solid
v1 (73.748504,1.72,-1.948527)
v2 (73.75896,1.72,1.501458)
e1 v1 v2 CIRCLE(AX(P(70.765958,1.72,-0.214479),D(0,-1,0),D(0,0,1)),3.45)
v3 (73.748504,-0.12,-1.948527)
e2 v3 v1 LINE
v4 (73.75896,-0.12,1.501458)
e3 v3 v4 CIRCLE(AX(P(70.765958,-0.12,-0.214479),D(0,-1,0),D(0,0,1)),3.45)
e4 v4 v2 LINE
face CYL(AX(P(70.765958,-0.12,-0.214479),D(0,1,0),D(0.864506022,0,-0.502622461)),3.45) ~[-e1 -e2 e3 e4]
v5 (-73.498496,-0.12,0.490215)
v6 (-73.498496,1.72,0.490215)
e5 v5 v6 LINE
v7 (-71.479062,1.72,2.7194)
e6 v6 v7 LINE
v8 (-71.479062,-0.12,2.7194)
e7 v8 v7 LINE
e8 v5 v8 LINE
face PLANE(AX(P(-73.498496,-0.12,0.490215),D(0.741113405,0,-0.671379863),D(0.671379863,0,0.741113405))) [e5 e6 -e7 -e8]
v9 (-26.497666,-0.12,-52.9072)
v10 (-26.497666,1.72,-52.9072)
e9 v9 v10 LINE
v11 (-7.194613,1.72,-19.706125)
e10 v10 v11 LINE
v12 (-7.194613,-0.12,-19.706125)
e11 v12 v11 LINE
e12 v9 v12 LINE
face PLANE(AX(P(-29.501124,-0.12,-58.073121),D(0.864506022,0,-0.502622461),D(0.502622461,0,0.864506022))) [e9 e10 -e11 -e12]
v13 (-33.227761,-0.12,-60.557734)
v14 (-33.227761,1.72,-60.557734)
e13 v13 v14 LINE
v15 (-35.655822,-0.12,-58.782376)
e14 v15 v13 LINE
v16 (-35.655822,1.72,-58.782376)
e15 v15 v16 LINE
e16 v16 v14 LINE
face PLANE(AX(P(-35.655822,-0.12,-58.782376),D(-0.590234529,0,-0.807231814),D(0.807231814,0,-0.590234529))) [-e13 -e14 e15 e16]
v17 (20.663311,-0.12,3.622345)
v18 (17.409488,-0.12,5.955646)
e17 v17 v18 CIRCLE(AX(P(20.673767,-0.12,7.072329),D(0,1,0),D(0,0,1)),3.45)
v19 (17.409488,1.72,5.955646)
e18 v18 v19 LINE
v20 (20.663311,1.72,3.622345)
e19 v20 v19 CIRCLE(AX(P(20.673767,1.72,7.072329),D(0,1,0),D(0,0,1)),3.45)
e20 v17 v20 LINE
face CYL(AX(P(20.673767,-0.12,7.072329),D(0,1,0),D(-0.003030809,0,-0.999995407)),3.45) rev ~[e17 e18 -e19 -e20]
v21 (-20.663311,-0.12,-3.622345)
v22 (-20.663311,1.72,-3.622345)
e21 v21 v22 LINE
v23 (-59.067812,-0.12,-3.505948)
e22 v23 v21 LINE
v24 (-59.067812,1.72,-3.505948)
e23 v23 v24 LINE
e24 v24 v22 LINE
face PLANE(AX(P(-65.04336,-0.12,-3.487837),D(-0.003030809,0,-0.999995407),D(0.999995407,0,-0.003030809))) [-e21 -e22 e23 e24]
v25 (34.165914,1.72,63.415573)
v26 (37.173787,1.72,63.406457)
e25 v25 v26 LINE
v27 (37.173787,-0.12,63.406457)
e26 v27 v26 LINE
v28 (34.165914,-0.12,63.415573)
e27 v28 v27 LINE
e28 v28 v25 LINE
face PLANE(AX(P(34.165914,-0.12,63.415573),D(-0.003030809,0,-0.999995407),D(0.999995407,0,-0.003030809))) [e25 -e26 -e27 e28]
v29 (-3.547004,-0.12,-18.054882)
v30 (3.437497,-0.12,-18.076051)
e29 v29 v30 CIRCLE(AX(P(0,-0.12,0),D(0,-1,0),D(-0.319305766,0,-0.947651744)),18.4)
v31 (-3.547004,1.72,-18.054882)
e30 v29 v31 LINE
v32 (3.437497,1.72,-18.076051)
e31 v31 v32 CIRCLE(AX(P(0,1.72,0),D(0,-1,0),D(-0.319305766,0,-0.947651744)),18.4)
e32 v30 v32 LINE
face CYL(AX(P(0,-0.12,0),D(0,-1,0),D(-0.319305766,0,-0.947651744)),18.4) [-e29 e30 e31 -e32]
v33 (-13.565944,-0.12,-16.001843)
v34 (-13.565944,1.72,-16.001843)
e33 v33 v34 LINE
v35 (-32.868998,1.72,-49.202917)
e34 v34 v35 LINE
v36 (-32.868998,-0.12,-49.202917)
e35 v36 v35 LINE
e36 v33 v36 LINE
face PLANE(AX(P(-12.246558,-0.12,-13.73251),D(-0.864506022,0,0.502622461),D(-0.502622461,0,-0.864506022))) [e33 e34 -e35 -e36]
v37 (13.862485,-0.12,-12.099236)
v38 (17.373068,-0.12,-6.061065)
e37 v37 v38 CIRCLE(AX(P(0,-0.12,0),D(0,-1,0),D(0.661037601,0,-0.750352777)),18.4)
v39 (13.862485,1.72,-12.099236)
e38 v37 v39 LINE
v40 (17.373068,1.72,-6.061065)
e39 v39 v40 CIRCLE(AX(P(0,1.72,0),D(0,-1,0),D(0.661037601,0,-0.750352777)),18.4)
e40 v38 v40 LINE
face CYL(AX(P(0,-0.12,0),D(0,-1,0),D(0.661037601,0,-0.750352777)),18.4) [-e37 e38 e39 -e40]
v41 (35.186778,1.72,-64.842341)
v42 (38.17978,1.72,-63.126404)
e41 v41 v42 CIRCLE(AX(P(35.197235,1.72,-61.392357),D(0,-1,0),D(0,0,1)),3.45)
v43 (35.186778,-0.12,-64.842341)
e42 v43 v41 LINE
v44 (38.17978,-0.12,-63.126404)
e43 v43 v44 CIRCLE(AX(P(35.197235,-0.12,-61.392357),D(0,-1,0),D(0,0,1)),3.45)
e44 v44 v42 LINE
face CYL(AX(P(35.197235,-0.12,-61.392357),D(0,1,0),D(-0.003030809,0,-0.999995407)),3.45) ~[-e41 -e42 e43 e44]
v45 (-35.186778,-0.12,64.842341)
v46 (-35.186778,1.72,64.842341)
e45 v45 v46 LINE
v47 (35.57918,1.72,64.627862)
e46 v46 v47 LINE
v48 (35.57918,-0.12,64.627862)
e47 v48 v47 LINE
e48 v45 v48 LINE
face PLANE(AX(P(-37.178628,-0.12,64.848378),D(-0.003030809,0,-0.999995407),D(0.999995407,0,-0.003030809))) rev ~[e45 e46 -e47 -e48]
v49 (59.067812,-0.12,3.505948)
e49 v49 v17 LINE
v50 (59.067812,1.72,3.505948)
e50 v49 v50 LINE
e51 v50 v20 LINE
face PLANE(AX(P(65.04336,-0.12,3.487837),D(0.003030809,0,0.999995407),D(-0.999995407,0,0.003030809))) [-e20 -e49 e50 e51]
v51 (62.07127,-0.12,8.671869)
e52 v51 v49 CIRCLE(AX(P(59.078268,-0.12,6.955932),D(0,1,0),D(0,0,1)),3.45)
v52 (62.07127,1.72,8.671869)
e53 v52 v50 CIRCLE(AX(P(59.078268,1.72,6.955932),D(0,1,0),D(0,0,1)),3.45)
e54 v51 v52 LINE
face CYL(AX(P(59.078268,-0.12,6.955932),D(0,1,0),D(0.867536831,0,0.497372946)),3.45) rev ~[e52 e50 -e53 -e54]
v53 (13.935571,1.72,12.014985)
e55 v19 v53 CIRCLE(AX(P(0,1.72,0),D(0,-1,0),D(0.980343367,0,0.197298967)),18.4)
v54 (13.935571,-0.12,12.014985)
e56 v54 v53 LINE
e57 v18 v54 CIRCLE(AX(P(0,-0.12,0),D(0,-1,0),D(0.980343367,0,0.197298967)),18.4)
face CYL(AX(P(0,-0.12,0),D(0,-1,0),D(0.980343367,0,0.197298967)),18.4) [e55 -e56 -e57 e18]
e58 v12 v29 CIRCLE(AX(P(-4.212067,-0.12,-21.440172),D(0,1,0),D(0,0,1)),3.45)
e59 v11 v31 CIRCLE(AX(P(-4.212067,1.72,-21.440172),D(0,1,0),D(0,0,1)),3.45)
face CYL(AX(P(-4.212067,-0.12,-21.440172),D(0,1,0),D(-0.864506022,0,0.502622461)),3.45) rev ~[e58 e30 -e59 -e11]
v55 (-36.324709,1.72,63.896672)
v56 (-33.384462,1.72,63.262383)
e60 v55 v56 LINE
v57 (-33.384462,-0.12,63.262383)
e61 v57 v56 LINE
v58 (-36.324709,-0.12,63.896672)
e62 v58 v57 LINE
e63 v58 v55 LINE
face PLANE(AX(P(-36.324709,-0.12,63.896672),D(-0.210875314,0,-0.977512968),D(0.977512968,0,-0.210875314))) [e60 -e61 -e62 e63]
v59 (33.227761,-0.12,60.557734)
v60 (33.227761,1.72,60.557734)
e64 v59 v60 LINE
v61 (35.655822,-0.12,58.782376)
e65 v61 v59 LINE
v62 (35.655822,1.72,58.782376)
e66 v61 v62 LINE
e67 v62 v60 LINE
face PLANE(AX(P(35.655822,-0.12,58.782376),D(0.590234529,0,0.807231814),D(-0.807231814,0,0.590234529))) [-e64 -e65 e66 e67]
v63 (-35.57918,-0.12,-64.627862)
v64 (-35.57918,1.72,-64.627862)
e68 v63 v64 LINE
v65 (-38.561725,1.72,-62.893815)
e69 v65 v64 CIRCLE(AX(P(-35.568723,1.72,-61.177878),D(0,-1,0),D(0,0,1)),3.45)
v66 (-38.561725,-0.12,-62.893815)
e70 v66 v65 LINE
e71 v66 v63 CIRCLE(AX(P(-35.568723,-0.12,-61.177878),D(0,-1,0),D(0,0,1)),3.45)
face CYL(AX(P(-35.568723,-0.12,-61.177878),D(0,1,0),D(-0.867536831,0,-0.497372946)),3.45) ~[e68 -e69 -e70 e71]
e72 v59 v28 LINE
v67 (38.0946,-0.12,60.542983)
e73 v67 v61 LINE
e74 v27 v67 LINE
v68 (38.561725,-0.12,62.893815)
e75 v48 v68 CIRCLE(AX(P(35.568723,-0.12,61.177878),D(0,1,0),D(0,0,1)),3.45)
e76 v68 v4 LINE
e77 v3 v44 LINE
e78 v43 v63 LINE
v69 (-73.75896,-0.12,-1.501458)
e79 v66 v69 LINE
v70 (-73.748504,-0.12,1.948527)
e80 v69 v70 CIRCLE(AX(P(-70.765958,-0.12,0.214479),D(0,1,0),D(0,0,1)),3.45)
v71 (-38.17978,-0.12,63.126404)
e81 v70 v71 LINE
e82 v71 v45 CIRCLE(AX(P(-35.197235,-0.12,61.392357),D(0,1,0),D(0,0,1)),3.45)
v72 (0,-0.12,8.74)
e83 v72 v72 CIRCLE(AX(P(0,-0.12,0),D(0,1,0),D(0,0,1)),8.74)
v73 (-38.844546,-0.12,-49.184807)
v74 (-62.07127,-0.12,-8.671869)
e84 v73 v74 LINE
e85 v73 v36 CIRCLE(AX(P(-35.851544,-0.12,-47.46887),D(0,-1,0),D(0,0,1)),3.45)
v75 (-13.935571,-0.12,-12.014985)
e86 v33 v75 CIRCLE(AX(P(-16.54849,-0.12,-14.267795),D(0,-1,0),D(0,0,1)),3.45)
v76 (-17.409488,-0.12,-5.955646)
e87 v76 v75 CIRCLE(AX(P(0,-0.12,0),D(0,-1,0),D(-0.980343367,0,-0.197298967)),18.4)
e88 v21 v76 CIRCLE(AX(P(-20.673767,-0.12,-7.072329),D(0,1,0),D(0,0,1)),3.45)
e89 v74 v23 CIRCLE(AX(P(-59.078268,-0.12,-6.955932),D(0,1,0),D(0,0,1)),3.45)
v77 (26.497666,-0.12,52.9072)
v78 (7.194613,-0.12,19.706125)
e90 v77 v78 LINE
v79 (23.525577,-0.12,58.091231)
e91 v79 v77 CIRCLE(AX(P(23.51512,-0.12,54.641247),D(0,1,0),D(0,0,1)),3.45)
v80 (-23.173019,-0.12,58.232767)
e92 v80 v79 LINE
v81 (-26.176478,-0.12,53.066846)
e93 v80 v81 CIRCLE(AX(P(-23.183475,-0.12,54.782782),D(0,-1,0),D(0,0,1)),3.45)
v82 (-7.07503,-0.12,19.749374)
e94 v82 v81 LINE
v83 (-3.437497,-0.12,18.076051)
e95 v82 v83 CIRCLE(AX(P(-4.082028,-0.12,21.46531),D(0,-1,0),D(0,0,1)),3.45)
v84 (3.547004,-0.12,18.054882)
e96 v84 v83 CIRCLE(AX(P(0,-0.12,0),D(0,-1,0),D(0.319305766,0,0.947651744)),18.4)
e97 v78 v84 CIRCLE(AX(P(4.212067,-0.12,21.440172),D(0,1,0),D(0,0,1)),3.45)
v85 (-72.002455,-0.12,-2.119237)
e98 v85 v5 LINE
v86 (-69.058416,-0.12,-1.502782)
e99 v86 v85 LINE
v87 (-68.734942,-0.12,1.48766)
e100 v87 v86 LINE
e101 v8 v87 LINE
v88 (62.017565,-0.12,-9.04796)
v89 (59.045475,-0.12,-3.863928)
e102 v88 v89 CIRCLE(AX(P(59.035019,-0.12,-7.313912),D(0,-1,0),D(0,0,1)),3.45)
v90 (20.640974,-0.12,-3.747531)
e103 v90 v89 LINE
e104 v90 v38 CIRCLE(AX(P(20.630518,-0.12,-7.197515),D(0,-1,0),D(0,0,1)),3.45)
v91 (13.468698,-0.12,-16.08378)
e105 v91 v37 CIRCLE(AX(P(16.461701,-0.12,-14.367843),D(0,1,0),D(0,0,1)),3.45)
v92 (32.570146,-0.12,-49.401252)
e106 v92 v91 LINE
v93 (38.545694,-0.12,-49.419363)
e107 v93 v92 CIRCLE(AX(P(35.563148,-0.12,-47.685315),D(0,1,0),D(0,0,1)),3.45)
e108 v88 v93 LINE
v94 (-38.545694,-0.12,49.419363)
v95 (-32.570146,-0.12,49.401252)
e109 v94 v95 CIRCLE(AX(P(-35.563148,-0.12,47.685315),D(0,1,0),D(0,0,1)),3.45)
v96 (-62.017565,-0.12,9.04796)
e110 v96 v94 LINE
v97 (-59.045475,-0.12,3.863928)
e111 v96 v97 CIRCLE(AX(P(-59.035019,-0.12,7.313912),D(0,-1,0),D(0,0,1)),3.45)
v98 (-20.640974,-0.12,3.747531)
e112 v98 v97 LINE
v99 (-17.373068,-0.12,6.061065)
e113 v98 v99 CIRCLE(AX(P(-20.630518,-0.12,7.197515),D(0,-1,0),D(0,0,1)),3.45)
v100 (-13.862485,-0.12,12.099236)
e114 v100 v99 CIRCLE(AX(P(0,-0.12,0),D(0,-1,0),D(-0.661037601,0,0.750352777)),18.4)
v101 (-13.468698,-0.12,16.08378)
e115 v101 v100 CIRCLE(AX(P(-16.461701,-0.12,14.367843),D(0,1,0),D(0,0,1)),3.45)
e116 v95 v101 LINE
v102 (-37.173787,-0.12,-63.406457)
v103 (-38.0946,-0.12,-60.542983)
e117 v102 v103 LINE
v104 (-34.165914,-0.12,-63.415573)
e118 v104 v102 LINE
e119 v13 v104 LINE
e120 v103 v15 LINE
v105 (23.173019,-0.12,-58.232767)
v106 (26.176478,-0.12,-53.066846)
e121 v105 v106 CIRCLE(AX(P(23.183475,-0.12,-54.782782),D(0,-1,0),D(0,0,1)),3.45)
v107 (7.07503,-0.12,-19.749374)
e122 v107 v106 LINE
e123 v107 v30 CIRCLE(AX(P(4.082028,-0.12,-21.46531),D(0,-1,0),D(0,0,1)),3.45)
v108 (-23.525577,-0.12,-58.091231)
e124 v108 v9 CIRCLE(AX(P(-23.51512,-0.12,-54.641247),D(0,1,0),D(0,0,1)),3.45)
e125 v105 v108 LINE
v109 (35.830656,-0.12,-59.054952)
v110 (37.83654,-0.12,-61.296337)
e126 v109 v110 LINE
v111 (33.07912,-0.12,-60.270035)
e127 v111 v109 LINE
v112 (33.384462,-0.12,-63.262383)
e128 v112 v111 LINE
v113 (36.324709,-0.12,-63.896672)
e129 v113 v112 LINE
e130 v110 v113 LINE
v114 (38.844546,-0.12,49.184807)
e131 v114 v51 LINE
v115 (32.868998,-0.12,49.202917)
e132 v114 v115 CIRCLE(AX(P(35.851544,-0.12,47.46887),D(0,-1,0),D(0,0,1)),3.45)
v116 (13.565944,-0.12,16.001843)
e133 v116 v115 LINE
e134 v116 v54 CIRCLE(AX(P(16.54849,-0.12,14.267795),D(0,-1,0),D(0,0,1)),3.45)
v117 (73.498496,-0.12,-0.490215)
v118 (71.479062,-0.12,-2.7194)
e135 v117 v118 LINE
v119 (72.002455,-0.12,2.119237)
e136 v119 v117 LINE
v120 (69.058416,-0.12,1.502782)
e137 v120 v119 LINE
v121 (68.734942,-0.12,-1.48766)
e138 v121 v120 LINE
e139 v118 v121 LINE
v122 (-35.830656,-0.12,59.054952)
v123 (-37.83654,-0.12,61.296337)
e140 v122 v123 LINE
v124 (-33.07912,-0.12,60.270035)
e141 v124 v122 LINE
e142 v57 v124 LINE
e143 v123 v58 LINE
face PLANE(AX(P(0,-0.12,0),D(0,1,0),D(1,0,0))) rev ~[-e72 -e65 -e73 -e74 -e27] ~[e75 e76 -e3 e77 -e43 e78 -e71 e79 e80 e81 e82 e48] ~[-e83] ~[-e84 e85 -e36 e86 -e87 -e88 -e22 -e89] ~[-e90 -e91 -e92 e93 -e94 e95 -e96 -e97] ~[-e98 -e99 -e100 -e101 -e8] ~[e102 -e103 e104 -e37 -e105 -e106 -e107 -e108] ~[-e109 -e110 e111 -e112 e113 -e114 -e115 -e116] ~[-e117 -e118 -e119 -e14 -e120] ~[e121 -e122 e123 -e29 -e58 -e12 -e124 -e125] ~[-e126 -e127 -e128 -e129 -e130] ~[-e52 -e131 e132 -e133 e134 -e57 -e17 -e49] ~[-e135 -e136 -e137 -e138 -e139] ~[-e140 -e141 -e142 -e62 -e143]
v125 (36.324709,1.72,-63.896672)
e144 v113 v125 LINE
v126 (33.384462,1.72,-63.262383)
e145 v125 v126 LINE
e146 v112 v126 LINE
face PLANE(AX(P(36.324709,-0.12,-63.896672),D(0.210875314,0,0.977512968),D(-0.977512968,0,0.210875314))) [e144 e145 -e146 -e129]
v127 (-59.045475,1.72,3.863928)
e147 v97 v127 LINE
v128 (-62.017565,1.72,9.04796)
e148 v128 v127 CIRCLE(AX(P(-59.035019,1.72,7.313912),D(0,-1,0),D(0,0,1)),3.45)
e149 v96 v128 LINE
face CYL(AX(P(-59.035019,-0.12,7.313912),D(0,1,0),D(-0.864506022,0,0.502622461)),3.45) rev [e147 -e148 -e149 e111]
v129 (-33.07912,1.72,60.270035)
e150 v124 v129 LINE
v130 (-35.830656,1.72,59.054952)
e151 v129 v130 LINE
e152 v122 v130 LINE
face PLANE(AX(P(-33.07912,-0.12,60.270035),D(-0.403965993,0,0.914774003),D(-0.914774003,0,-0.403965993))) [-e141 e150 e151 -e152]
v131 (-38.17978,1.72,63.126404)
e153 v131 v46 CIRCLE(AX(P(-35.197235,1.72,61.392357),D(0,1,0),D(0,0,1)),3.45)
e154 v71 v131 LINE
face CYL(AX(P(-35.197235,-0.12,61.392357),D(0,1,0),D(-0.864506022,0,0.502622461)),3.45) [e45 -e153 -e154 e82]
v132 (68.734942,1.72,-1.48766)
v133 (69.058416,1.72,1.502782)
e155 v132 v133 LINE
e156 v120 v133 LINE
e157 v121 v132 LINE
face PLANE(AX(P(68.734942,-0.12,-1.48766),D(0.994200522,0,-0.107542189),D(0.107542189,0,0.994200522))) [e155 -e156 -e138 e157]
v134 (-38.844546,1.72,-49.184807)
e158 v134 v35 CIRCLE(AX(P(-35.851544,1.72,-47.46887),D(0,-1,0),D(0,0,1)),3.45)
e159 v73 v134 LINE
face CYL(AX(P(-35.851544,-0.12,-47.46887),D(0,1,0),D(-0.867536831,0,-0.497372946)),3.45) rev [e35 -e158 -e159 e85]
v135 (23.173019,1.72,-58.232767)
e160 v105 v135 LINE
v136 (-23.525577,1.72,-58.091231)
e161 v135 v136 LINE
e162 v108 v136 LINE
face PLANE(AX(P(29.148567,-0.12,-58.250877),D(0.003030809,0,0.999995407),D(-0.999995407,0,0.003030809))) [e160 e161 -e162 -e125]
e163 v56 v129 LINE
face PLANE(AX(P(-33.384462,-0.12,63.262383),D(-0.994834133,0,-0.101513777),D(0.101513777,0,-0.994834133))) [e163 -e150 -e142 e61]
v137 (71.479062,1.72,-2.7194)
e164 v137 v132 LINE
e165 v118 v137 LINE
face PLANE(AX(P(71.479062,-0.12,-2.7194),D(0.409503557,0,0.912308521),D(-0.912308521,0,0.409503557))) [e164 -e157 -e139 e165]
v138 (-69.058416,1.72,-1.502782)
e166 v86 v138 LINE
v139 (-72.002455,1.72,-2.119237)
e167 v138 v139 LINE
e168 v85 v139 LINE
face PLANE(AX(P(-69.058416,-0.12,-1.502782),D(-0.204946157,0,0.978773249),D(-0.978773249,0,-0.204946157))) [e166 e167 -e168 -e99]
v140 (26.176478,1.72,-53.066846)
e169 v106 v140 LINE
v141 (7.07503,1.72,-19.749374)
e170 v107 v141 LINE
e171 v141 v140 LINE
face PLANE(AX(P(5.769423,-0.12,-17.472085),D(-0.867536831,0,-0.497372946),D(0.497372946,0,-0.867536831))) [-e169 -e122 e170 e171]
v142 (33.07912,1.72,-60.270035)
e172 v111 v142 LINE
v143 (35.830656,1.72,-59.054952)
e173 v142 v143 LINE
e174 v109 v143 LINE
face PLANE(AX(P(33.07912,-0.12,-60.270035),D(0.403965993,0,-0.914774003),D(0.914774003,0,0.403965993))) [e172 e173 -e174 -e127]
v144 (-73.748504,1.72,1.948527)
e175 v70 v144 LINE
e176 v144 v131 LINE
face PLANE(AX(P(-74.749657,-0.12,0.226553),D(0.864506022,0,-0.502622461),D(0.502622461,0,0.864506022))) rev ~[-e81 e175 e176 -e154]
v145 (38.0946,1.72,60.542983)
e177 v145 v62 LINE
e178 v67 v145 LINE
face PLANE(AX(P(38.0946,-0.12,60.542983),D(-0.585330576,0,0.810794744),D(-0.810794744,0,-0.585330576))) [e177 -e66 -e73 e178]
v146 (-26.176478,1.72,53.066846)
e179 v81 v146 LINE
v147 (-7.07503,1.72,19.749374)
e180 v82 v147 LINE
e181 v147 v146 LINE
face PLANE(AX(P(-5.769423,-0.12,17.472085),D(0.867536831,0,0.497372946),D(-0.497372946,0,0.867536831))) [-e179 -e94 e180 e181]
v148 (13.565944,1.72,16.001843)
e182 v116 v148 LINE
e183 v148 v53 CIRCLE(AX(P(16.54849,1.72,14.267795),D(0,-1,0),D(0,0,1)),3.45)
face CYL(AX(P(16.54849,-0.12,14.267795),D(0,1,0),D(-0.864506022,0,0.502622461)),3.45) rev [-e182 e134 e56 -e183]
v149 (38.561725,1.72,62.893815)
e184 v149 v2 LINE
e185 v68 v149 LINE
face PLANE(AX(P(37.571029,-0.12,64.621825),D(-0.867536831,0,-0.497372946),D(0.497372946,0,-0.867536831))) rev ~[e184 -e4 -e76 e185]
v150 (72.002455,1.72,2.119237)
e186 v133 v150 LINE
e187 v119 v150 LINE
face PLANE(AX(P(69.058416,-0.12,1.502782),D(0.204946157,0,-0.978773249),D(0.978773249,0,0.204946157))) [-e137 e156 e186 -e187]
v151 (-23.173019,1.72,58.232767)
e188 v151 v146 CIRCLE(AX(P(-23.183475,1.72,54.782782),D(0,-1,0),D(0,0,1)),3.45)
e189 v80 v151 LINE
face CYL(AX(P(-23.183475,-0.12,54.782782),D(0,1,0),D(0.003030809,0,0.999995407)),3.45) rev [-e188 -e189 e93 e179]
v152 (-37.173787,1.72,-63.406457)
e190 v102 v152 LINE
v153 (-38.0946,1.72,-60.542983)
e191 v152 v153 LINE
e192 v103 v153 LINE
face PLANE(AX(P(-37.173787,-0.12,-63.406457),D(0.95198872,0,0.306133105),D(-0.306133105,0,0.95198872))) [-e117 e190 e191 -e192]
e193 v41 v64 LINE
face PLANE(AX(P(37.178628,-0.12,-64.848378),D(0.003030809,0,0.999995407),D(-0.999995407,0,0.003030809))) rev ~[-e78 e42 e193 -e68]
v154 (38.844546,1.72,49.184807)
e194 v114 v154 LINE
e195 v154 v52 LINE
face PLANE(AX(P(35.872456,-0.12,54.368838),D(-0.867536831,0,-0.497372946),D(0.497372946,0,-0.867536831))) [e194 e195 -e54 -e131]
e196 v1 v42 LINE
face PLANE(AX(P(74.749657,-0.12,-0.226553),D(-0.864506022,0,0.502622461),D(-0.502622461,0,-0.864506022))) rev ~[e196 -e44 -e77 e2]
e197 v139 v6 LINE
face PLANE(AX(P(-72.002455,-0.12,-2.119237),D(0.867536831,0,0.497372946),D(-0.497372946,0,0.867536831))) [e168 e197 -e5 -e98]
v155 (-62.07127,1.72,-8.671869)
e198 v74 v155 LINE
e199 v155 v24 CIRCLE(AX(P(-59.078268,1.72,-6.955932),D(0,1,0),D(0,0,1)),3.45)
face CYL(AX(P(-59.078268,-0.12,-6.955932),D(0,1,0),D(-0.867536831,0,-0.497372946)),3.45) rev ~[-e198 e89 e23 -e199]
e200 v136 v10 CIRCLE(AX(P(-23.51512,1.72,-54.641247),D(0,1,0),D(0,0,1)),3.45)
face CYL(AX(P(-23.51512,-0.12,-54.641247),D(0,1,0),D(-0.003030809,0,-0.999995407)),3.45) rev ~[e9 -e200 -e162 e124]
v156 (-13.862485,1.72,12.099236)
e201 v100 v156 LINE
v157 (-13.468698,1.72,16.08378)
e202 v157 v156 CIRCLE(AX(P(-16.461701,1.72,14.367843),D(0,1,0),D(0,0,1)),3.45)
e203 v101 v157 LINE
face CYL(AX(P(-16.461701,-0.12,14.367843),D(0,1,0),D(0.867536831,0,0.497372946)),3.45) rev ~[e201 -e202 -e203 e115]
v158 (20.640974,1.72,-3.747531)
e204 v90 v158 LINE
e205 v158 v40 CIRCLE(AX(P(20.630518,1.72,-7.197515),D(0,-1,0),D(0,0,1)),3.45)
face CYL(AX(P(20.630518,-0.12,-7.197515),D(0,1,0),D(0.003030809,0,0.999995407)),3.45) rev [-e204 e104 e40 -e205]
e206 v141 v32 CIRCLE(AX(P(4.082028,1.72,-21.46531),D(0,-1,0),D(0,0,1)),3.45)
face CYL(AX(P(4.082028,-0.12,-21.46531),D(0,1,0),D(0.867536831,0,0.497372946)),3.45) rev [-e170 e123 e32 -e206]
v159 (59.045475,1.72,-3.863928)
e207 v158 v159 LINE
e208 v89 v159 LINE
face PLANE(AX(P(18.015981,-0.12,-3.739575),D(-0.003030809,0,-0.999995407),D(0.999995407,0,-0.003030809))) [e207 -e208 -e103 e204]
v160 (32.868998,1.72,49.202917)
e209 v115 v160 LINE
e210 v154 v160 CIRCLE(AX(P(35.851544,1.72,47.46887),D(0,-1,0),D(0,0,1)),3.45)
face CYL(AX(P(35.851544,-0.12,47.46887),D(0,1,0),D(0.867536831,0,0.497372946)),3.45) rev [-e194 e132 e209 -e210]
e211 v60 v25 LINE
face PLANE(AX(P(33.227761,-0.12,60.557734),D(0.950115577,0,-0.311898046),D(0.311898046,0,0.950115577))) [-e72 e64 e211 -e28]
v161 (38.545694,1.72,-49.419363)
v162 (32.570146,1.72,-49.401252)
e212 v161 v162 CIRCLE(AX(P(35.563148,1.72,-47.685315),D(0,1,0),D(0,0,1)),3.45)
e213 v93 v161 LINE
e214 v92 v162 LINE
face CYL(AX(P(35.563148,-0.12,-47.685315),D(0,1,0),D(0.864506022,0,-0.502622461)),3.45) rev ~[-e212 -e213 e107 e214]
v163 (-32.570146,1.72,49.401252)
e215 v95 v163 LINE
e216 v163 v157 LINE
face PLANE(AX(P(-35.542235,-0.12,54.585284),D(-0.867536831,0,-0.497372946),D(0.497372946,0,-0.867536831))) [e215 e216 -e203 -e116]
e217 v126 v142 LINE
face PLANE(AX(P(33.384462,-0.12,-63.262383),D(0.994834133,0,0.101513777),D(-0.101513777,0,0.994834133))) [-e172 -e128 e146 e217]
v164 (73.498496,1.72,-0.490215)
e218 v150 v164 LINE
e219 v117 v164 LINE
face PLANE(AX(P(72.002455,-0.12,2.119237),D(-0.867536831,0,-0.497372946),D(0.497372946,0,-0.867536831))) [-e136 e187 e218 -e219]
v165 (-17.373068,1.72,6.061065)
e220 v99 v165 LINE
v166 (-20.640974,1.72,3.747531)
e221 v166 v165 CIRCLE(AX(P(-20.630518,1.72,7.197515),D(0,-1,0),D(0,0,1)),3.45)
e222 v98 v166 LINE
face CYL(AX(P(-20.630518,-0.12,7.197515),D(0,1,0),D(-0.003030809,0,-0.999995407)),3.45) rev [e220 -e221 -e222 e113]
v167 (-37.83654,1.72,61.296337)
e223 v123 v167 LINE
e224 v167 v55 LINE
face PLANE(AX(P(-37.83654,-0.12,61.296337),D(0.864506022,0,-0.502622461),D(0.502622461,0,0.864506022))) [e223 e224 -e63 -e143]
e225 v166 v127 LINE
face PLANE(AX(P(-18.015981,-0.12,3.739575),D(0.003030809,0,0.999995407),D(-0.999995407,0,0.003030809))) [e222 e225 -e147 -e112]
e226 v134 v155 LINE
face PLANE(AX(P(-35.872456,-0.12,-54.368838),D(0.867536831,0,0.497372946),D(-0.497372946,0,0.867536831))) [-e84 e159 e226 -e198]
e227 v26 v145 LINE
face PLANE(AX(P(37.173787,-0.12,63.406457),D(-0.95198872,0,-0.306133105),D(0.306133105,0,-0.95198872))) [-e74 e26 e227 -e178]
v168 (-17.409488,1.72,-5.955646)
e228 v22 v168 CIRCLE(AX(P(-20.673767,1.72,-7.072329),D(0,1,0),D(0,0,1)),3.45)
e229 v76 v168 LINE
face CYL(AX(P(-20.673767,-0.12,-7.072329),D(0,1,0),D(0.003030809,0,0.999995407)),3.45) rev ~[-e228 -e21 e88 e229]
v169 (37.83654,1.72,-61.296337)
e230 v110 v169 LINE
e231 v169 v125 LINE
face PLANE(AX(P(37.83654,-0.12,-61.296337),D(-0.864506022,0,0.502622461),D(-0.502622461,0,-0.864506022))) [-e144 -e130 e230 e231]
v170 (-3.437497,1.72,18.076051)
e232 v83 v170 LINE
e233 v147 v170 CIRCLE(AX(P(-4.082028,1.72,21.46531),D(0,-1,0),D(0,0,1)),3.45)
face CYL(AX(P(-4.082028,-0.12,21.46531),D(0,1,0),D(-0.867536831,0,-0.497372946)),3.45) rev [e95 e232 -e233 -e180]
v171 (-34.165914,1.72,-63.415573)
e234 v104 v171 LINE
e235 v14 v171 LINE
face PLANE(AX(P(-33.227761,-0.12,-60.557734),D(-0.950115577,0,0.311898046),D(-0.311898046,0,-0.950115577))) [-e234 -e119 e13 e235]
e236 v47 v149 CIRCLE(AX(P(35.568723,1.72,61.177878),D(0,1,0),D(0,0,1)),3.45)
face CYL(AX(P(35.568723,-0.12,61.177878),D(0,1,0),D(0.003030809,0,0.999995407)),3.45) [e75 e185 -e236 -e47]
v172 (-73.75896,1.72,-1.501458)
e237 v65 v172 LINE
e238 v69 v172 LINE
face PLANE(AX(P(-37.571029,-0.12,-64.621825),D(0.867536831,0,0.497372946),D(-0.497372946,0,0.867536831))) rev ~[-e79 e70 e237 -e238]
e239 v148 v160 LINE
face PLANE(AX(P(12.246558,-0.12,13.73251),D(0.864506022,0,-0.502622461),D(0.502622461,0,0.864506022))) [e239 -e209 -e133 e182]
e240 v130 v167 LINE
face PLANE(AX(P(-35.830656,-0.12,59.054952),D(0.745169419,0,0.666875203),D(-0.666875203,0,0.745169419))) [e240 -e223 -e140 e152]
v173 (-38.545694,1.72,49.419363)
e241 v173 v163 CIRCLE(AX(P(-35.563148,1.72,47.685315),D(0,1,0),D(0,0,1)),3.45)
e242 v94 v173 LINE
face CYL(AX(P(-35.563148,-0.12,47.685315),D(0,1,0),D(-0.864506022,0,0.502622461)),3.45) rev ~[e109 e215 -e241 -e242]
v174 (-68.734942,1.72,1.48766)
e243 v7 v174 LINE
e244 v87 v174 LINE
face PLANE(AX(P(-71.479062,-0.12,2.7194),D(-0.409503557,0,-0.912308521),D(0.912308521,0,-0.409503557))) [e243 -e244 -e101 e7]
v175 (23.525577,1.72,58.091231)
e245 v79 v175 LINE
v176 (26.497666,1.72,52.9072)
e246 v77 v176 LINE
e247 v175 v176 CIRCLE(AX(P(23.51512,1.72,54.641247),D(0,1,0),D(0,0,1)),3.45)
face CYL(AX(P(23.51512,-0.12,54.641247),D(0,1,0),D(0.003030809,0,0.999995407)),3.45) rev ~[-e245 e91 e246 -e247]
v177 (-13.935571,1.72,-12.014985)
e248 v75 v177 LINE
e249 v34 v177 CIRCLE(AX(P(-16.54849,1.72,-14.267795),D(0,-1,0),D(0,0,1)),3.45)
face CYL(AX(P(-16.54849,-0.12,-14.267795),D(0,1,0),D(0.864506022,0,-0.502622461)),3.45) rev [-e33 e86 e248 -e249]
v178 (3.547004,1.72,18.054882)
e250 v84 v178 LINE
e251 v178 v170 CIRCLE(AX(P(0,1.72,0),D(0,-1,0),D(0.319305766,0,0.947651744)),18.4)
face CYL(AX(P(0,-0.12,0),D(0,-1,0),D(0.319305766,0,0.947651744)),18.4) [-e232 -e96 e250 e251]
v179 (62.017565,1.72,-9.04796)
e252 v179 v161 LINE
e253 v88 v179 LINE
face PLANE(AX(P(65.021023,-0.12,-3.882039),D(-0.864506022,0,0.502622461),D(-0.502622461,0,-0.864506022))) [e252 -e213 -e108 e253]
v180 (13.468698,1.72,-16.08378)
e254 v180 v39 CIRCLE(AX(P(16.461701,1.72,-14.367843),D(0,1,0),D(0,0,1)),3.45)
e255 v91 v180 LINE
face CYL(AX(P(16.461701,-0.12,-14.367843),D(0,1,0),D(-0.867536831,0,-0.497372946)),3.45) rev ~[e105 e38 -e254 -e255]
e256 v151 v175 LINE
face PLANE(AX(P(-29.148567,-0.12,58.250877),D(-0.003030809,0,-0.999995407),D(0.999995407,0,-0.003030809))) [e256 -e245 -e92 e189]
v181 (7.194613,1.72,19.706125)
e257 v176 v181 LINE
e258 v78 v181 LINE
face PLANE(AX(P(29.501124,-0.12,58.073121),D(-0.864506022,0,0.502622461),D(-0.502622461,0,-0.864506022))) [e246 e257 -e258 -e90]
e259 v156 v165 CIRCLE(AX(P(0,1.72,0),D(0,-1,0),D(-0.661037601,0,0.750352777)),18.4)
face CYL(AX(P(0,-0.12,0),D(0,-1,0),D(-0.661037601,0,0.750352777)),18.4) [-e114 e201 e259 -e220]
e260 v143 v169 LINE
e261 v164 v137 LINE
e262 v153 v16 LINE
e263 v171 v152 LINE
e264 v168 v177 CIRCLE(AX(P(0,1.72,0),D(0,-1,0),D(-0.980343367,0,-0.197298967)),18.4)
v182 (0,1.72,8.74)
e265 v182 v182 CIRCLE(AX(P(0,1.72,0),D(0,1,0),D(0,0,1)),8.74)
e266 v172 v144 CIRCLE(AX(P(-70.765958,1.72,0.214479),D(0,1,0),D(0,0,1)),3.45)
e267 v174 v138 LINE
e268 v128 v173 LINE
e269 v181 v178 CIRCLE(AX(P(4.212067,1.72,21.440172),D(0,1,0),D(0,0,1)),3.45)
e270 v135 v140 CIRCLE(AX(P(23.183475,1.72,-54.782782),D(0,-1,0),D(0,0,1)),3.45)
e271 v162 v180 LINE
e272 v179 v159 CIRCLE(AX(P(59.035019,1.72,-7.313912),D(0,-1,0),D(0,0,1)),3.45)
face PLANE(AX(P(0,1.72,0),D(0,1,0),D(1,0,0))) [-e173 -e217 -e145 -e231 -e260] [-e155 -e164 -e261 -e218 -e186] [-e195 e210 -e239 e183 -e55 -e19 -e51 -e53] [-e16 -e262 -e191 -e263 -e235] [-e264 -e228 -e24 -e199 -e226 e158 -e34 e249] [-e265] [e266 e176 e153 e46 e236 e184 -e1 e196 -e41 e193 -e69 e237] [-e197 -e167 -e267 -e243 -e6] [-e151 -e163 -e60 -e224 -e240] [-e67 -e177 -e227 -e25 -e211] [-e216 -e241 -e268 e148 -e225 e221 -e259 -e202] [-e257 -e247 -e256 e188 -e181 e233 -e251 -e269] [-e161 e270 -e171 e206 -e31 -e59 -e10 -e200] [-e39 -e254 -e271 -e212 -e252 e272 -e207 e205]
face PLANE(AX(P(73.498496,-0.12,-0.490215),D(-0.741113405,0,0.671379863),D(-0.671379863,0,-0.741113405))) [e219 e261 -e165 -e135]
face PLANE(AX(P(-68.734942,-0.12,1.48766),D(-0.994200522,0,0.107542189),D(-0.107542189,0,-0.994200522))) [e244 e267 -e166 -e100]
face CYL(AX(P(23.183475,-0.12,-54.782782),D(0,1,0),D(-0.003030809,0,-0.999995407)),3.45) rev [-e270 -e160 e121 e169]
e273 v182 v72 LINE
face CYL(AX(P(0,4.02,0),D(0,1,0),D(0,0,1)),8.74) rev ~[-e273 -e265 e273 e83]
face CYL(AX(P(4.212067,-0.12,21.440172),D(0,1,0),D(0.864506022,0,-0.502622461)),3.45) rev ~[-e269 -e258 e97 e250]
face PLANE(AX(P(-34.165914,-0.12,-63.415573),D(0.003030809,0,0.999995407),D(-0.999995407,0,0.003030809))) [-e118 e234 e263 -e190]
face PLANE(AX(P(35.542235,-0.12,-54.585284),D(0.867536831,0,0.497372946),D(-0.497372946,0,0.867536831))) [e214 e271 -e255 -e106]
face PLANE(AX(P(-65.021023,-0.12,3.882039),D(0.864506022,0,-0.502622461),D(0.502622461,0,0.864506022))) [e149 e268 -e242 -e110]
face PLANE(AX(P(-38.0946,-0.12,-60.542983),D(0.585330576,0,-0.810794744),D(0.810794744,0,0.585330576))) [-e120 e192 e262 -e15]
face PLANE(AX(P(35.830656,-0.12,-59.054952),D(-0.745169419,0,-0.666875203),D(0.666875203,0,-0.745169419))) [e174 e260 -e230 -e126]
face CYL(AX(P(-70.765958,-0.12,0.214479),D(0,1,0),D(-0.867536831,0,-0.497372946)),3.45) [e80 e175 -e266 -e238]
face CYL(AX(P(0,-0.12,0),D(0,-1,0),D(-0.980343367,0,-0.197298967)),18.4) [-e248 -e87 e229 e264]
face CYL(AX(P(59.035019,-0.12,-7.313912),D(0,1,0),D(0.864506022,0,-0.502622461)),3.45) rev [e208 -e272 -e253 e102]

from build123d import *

# Parameters (mm, degrees)
BOSS_EXTRUDE1_DEPTH = 1.6
FILLET1_R           = 3
FILLET2_R           = 3
SKETCH3_R           = 7.6
CUT_EXTRUDE1_DEPTH  = 10
SCALE1_SCALE        = 1.15


with BuildPart() as part:
    # Sketch1 → Boss-Extrude1 (new body)
    with BuildSketch(Plane(origin=(0, 0, 0), x_dir=(1, 0, 0), z_dir=(0, 1, 0))):
        Polygon((-32.670459977, 56.192891409), (-64.999701461, -0.197002589), (-32.329241484, -56.389893998), (32.670459977, -56.192891409), (64.999701461, 0.197002589), (32.329241484, 56.389893998), align=None)
        with BuildLine():
            Line((-31.193440085, 47.277250649), (-56.559443422, 3.032901767))
            Line((-56.559443422, 3.032901767), (-15.685493875, 3.156783473))
            ThreePointArc((-15.685493875, 3.156783473), (-13.880589292, 7.957967134), (-10.649180608, 11.941312842))
            Line((-10.649180608, 11.941312842), (-31.193440085, 47.277250649))
        make_face(mode=Mode.SUBTRACT)
        with BuildLine():
            Line((-56.540020126, -3.375686221), (-30.906291689, -47.465463944))
            Line((-30.906291689, -47.465463944), (-10.576601619, -12.00564443))
            ThreePointArc((-10.576601619, -12.00564443), (-13.832096347, -8.041959379), (-15.666070579, -3.251804515))
            Line((-15.666070579, -3.251804515), (-56.540020126, -3.375686221))
        make_face(mode=Mode.SUBTRACT)
        with BuildLine():
            Line((-25.346580041, -50.65293687), (25.653151733, -50.498365711))
            Line((25.653151733, -50.498365711), (5.108892256, -15.162427903))
            ThreePointArc((5.108892256, -15.162427903), (0.048492945, -15.999926513), (-5.016889971, -15.193117357))
            Line((-5.016889971, -15.193117357), (-25.346580041, -50.65293687))
        make_face(mode=Mode.SUBTRACT)
        with BuildLine():
            Line((31.193440085, -47.277250649), (56.559443422, -3.032901767))
            Line((56.559443422, -3.032901767), (15.685493875, -3.156783473))
            ThreePointArc((15.685493875, -3.156783473), (13.880589292, -7.957967134), (10.649180608, -11.941312842))
            Line((10.649180608, -11.941312842), (31.193440085, -47.277250649))
        make_face(mode=Mode.SUBTRACT)
        with BuildLine():
            Line((56.540020126, 3.375686221), (30.906291689, 47.465463944))
            Line((30.906291689, 47.465463944), (10.576601619, 12.00564443))
            ThreePointArc((10.576601619, 12.00564443), (13.832096347, 8.041959379), (15.666070579, 3.251804515))
            Line((15.666070579, 3.251804515), (56.540020126, 3.375686221))
        make_face(mode=Mode.SUBTRACT)
        with BuildLine():
            Line((25.346580041, 50.65293687), (-25.653151733, 50.498365711))
            Line((-25.653151733, 50.498365711), (-5.108892256, 15.162427903))
            ThreePointArc((-5.108892256, 15.162427903), (-0.048492945, 15.999926513), (5.016889971, 15.193117357))
            Line((5.016889971, 15.193117357), (25.346580041, 50.65293687))
        make_face(mode=Mode.SUBTRACT)
        Polygon((28.764451985, 52.408726504), (31.157091964, 51.352131998), (32.90133947, 53.301162184), (31.586703733, 55.562323589), (29.029966659, 55.010768007), align=None, mode=Mode.SUBTRACT)
        Polygon((-31.00506254, 51.115109397), (-28.893704867, 52.658899148), (-29.709490768, 55.143976891), (-32.325031855, 55.136049649), (-33.125739246, 52.646072601), align=None, mode=Mode.SUBTRACT)
        Polygon((59.769514525, 1.293617108), (60.050796831, -1.30676715), (62.610830237, -1.842814707), (63.911735588, 0.42627394), (62.155705905, 2.364695405), align=None, mode=Mode.SUBTRACT)
        Polygon((31.00506254, -51.115109397), (28.893704867, -52.658899148), (29.709490768, -55.143976891), (32.325031855, -55.136049649), (33.125739246, -52.646072601), align=None, mode=Mode.SUBTRACT)
        Polygon((-28.764451985, -52.408726504), (-31.157091964, -51.352131998), (-32.90133947, -53.301162184), (-31.586703733, -55.562323589), (-29.029966659, -55.010768007), align=None, mode=Mode.SUBTRACT)
        Polygon((-59.769514525, -1.293617108), (-60.050796831, 1.30676715), (-62.610830237, 1.842814707), (-63.911735588, -0.42627394), (-62.155705905, -2.364695405), align=None, mode=Mode.SUBTRACT)
    extrude(amount=BOSS_EXTRUDE1_DEPTH)

    # Fillet1
    fillet1_edges = [part.edges().sort_by_distance(p)[0] for p in [
        (32.329241484, 0.8, -56.389893998),
        (64.999701461, 0.8, -0.197002589),
        (32.670459977, 0.8, 56.192891409),
        (-32.329241484, 0.8, 56.389893998),
        (-64.999701461, 0.8, 0.197002589),
        (-32.670459977, 0.8, -56.192891409),
    ]]
    fillet(fillet1_edges, radius=FILLET1_R)

    # Fillet2
    fillet2_edges = [part.edges().sort_by_distance(p)[0] for p in [
        (-25.653151733, 0.8, -50.498365711),
        (-5.108892256, 0.8, -15.162427903),
        (5.016889971, 0.8, -15.193117357),
        (25.346580041, 0.8, -50.65293687),
        (30.906291689, 0.8, -47.465463944),
        (10.576601619, 0.8, -12.00564443),
        (15.666070579, 0.8, -3.251804515),
        (56.540020126, 0.8, -3.375686221),
        (56.559443422, 0.8, 3.032901767),
        (15.685493875, 0.8, 3.156783473),
        (10.649180608, 0.8, 11.941312842),
        (31.193440085, 0.8, 47.277250649),
        (25.653151733, 0.8, 50.498365711),
        (5.108892256, 0.8, 15.162427903),
        (-5.016889971, 0.8, 15.193117357),
        (-25.346580041, 0.8, 50.65293687),
        (-30.906291689, 0.8, 47.465463944),
        (-10.576601619, 0.8, 12.00564443),
        (-15.666070579, 0.8, 3.251804515),
        (-56.540020126, 0.8, 3.375686221),
        (-10.649180608, 0.8, -11.941312842),
        (-31.193440085, 0.8, -47.277250649),
        (-56.559443422, 0.8, -3.032901767),
        (-15.685493875, 0.8, -3.156783473),
    ]]
    fillet(fillet2_edges, radius=FILLET2_R)

    # Sketch3 → Cut-Extrude1 (cut)
    with BuildSketch(Plane(origin=(0, 3.6, 0), x_dir=(1, 0, 0), z_dir=(0, 1, 0))):
        with Locations(Location((0, 0, 0), (0, 0, 270))):
            Circle(SKETCH3_R)
    extrude(amount=-CUT_EXTRUDE1_DEPTH, mode=Mode.SUBTRACT)


with BuildPart() as part_1:
    # Scale1: scaled about (0, 0.8, 0)
    add(part.part.scale(SCALE1_SCALE).moved(Location((0, -0.12, 0))))


solid = part_1.part
